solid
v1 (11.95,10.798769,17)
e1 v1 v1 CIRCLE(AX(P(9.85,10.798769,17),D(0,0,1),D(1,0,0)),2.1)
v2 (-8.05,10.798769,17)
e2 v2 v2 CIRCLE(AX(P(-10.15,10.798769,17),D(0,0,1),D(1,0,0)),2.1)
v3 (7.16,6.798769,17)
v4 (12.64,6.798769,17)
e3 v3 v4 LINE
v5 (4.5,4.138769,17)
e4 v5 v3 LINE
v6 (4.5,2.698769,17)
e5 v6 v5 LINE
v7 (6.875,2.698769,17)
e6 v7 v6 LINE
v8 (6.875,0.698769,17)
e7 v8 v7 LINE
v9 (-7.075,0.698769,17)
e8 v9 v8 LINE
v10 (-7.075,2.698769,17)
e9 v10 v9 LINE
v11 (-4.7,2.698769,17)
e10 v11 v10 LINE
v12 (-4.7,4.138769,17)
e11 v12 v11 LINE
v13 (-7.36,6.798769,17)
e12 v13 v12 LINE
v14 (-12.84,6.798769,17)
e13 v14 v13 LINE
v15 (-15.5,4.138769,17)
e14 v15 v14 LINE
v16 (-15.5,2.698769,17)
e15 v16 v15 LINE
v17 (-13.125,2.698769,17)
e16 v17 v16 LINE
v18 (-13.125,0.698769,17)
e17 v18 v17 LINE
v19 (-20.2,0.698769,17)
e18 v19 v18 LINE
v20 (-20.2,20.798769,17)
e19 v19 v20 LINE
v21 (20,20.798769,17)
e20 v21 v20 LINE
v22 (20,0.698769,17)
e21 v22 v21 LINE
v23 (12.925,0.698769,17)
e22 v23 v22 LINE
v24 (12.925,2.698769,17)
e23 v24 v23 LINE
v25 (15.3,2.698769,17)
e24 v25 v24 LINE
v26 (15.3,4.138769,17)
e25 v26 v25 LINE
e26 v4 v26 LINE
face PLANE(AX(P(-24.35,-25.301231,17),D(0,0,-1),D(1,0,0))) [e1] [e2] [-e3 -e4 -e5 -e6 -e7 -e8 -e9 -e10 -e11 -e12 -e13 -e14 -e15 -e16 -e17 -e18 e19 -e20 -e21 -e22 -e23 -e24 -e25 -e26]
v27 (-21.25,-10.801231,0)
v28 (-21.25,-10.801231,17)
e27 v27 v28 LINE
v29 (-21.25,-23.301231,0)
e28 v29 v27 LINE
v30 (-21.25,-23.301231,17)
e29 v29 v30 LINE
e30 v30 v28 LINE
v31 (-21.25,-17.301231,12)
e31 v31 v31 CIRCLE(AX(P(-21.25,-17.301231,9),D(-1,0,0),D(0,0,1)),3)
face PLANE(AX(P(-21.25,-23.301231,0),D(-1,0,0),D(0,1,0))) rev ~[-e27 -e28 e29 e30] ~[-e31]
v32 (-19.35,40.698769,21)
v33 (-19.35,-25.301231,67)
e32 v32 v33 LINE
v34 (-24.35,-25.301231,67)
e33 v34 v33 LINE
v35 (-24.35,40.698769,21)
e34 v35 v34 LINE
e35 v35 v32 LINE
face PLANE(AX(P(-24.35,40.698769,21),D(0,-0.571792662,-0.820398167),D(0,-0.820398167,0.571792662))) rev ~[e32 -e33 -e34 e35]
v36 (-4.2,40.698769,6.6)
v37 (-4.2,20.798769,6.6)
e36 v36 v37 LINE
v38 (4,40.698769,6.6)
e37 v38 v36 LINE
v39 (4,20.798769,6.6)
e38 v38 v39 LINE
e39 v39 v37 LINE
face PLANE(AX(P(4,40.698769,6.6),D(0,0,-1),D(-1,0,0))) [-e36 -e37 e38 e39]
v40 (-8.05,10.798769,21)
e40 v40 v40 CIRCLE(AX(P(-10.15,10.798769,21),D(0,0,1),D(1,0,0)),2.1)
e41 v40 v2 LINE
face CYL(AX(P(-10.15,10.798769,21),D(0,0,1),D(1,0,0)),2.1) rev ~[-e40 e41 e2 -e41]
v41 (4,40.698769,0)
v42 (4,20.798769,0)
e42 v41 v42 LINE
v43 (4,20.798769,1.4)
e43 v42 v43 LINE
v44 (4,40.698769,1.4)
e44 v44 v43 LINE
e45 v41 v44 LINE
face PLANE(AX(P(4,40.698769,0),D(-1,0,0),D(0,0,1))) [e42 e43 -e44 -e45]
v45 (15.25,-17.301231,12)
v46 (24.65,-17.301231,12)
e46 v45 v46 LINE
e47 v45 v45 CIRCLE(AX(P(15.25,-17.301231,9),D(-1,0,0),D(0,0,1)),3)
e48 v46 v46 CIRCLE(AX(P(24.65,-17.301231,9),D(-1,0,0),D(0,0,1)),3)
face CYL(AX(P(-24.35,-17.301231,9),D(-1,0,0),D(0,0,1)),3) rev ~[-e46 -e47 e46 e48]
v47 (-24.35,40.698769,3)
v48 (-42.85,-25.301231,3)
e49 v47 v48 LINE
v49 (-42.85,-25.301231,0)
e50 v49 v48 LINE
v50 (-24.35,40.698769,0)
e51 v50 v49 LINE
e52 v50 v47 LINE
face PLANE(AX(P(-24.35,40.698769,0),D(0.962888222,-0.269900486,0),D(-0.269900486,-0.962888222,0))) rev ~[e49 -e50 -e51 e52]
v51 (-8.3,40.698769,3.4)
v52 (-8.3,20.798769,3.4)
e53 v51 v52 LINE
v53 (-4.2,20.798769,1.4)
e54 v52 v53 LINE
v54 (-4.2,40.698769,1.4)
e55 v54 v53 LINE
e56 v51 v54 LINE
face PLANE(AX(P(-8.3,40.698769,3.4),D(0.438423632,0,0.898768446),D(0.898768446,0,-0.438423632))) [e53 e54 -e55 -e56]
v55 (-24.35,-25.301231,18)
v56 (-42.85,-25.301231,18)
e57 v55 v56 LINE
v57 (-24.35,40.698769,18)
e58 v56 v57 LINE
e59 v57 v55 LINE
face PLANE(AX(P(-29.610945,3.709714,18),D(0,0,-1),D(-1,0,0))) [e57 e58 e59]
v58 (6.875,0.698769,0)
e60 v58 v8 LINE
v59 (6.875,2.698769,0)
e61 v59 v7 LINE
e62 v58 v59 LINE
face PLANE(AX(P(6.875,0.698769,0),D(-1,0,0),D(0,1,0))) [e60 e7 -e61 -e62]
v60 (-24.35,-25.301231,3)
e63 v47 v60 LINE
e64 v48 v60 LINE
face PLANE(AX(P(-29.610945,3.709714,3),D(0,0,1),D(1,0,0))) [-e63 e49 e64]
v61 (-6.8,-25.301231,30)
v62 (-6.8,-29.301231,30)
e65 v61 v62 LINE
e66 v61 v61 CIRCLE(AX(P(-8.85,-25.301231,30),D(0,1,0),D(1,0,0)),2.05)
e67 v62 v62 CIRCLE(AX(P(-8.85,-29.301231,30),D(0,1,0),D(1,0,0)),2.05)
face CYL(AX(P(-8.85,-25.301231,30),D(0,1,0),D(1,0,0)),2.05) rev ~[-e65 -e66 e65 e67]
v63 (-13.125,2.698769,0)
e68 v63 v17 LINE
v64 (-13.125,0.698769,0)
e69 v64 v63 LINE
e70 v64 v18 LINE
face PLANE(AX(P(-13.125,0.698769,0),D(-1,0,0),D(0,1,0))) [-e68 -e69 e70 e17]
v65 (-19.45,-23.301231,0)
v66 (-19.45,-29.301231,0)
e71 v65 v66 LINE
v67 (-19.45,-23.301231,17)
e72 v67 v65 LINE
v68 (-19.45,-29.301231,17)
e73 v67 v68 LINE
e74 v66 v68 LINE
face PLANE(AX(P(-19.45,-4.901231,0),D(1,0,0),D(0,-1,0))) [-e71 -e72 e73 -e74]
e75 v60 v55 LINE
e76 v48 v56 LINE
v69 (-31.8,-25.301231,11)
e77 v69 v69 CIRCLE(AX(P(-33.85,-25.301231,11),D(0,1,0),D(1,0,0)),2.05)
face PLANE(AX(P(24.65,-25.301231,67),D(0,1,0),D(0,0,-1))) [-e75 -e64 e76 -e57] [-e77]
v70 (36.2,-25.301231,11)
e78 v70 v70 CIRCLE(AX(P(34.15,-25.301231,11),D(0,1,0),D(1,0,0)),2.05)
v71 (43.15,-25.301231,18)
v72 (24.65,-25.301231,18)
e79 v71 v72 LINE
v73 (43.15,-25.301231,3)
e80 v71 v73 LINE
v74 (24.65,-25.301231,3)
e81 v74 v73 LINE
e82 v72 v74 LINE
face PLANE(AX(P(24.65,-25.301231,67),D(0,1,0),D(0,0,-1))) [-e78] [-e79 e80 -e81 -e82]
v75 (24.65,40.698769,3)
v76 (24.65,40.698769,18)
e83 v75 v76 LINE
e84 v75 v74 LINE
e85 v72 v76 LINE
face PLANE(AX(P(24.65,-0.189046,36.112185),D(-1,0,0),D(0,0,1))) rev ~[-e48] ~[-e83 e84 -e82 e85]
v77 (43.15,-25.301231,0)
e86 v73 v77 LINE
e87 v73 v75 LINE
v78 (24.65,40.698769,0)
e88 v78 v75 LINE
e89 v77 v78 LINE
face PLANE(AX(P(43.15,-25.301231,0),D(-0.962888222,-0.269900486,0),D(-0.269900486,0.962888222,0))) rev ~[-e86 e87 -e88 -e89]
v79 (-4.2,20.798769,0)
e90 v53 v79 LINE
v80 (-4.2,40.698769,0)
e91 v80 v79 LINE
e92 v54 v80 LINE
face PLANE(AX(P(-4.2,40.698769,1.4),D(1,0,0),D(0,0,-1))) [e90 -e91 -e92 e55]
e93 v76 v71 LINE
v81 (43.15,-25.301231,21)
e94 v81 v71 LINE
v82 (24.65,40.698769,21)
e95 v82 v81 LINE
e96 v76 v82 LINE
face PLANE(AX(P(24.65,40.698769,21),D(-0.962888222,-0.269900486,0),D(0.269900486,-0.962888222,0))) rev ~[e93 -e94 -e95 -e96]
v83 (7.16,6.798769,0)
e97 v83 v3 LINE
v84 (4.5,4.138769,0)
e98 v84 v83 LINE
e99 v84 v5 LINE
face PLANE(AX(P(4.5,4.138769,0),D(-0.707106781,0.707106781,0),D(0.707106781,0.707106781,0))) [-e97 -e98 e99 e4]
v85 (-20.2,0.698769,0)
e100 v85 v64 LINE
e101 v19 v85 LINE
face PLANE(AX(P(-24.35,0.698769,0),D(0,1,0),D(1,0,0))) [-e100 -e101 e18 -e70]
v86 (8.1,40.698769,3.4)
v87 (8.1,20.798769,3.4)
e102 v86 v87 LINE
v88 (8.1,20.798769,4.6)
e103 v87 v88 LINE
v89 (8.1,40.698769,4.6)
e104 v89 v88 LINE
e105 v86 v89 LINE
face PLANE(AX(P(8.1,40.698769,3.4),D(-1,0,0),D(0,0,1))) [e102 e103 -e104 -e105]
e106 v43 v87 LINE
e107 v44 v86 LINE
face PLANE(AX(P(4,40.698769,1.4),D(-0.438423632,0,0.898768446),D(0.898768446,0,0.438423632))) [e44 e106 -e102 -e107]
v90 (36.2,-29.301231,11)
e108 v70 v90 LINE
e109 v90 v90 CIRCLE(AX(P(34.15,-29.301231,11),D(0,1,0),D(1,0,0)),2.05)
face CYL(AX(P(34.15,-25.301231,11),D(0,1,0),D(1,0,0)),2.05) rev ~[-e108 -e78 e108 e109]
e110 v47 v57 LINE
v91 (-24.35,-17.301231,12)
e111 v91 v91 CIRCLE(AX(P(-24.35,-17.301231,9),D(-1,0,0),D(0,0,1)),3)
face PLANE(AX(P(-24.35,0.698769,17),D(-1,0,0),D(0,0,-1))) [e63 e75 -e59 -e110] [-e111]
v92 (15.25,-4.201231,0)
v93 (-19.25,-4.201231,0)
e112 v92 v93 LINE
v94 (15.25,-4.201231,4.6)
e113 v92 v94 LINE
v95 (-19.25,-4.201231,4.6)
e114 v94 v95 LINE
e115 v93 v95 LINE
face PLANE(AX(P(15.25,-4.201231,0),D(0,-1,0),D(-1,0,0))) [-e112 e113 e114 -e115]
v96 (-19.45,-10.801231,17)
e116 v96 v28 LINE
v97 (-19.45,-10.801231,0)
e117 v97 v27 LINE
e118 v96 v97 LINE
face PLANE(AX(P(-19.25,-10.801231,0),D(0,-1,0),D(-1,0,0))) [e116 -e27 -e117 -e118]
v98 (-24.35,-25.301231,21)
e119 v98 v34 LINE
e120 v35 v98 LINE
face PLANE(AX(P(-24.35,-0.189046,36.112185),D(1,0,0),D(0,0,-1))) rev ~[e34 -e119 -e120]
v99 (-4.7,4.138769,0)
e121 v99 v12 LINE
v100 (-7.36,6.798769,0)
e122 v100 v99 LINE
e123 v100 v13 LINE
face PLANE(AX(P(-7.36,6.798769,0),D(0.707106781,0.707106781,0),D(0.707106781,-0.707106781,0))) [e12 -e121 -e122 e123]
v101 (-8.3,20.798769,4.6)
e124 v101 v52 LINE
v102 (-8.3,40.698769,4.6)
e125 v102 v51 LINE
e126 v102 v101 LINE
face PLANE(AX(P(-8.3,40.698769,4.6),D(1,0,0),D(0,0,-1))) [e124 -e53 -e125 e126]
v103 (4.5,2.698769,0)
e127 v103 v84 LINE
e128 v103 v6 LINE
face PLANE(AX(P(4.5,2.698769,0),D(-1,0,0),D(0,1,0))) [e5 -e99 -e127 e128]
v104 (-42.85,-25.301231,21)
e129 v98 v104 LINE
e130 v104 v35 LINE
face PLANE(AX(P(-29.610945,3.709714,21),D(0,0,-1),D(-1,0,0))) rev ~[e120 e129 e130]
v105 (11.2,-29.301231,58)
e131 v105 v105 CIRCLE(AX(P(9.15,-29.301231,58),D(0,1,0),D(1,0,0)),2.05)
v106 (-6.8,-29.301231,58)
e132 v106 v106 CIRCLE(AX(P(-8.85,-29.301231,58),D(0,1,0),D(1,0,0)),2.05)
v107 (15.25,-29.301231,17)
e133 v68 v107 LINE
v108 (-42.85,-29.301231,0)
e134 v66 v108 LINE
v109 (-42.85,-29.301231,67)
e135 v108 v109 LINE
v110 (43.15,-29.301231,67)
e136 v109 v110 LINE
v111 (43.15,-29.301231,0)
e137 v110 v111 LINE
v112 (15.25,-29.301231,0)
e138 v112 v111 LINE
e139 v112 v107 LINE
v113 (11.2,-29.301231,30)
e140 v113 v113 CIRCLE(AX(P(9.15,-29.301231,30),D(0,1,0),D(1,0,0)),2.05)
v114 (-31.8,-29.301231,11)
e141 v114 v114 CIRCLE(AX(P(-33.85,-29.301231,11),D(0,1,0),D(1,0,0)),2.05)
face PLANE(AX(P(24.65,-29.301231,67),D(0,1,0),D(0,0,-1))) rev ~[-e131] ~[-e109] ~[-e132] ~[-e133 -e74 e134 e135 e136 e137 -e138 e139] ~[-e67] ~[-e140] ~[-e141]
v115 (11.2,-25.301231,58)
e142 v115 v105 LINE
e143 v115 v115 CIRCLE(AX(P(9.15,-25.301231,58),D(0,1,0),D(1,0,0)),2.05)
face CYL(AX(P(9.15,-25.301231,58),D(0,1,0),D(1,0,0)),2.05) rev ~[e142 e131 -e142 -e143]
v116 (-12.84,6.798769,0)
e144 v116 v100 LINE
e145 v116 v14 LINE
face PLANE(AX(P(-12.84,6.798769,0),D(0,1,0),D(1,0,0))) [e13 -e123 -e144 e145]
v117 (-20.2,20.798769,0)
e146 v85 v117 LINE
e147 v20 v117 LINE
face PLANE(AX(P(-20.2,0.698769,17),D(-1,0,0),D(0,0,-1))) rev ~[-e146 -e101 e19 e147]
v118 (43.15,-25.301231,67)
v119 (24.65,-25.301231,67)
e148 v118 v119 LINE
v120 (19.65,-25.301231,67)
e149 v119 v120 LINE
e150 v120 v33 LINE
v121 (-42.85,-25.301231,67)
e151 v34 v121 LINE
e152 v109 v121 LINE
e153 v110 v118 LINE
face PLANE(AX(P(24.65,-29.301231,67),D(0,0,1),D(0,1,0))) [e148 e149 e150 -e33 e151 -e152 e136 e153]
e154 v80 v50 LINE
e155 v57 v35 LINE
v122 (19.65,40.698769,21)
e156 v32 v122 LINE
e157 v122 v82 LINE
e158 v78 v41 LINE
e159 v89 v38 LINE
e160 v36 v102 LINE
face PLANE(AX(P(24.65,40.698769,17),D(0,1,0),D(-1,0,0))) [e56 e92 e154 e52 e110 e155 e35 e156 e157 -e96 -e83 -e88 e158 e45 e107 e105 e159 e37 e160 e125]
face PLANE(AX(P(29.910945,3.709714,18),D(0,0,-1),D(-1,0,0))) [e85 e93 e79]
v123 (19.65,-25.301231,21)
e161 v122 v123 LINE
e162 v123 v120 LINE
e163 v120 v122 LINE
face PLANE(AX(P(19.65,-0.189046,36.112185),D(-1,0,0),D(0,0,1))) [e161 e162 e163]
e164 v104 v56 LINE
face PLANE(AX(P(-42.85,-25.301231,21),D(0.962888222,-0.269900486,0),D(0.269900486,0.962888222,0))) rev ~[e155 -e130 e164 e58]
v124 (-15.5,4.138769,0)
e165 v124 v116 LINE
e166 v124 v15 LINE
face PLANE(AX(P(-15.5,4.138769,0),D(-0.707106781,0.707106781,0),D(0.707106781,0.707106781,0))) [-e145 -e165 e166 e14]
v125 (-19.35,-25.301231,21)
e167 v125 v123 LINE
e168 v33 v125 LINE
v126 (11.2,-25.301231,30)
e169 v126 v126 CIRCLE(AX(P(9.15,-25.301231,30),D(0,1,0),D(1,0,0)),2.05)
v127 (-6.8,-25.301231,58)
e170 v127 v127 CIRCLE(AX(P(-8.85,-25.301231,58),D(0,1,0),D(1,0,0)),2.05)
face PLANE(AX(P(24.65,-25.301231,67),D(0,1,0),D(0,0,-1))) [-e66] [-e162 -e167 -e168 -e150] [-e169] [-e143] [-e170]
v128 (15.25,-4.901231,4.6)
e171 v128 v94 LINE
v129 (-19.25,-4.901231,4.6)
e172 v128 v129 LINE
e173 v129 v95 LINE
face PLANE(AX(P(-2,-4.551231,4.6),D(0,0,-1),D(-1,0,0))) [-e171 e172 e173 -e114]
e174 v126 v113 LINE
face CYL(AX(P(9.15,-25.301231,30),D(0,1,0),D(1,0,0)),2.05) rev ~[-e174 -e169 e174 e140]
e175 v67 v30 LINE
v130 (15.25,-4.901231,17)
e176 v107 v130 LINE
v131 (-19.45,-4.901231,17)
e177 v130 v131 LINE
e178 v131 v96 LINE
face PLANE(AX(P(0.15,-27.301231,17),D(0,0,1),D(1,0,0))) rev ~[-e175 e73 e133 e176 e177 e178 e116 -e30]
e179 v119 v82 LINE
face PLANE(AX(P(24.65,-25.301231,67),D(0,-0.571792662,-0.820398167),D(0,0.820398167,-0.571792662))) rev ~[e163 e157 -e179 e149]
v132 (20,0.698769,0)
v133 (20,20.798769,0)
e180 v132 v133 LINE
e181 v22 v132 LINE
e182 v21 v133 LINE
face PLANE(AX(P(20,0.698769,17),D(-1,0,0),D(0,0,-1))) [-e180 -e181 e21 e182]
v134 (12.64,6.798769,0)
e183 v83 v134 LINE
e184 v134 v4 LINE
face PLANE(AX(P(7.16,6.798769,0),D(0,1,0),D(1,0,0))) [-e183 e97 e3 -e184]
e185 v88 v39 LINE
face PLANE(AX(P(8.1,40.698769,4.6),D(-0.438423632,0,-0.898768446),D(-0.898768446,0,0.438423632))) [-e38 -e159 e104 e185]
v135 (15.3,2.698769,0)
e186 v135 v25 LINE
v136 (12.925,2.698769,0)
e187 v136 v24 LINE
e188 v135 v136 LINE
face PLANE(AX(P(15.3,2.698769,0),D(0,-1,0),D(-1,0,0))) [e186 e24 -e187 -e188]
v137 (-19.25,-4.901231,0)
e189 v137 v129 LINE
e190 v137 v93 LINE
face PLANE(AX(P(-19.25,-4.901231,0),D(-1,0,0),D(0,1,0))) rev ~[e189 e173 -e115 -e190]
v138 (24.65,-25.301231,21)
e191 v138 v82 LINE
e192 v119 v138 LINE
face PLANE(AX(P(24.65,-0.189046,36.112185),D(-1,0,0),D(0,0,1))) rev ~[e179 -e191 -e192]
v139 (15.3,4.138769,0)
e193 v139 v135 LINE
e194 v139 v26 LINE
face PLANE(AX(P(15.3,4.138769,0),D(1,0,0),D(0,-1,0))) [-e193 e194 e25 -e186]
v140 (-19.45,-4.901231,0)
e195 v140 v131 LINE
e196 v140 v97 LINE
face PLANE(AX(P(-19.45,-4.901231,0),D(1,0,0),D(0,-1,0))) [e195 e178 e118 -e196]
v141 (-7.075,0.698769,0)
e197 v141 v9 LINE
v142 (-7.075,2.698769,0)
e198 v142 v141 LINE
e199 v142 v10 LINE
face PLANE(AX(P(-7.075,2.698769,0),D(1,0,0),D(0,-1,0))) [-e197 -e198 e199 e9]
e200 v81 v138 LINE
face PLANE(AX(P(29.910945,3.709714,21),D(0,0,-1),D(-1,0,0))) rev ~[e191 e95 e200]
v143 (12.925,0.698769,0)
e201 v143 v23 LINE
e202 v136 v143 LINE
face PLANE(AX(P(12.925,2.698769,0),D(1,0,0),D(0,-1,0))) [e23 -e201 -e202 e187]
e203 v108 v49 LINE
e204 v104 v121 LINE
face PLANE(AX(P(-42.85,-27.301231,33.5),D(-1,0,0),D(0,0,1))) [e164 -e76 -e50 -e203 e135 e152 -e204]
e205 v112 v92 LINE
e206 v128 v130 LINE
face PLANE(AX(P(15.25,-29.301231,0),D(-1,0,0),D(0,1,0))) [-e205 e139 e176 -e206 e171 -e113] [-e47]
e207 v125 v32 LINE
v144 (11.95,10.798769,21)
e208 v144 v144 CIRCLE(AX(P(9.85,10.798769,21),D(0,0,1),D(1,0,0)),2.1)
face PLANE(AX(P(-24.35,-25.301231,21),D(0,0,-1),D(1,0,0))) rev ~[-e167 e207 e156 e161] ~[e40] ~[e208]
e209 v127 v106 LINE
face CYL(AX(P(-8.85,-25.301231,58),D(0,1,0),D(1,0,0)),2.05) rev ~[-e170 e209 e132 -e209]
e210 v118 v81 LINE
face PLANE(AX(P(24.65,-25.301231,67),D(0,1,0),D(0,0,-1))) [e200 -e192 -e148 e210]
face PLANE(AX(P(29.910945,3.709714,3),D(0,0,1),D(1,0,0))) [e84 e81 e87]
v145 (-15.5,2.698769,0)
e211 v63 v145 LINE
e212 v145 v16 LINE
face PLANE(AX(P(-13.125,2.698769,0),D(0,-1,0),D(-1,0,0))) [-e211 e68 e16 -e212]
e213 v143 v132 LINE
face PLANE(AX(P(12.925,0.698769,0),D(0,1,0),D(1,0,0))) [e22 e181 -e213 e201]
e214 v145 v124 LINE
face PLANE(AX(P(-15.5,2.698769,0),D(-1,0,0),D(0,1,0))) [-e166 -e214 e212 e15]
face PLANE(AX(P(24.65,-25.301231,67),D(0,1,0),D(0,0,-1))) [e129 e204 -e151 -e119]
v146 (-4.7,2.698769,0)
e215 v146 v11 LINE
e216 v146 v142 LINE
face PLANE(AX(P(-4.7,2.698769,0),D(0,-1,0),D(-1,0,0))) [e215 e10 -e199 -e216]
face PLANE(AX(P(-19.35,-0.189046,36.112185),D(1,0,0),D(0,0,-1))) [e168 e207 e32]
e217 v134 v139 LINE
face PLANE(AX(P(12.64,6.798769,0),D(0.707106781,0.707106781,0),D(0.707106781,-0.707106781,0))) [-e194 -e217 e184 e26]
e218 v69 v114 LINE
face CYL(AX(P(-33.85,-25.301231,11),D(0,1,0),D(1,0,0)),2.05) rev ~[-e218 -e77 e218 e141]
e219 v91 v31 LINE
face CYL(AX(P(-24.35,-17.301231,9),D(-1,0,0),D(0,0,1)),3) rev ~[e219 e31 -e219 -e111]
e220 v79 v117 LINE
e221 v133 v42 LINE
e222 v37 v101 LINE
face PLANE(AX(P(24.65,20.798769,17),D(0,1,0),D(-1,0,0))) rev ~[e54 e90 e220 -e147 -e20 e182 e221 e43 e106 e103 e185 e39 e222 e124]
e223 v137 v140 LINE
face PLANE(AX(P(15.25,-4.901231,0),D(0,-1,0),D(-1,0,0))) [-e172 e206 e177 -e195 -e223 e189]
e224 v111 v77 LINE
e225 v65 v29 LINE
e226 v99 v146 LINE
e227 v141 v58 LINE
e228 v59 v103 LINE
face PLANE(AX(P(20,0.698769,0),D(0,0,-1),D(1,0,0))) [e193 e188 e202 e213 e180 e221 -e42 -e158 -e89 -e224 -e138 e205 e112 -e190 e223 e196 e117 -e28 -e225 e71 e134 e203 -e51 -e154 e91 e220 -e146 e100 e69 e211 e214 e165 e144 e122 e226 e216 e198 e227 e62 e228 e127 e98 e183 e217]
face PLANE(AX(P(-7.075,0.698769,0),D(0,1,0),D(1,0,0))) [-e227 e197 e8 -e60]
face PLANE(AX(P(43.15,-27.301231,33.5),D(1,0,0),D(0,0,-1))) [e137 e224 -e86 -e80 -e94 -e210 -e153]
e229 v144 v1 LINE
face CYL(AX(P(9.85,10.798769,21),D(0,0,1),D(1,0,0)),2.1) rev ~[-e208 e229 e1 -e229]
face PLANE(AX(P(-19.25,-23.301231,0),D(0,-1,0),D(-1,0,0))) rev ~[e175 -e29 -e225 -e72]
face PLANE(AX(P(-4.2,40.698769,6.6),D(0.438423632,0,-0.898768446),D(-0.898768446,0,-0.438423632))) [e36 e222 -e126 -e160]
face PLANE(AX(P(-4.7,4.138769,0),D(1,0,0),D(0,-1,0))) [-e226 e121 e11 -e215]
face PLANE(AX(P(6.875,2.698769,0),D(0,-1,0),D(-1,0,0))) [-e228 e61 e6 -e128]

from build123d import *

# Parameters (mm, degrees)
EXTRUDE_1_DEPTH     = 17
SKETCH_5_R          = 3
CUT_EXTRUDE_3_DEPTH = 49
SKETCH_6_W          = 49
SKETCH_6_H          = 4
EXTRUDE_3_DEPTH     = 50
SKETCH_7_W          = 67
SKETCH_7_H          = 4
EXTRUDE_4_DEPTH     = 18.5
SKETCH_8_W          = 67
SKETCH_8_H          = 4
EXTRUDE_5_DEPTH     = 18.5
SKETCH_14_W         = 49
SKETCH_14_H         = 4
EXTRUDE_13_DEPTH    = 66
SKETCH_23_W         = 49
SKETCH_23_H         = 19.9
EXTRUDE_18_DEPTH    = 17
CUT_EXTRUDE_4_REACH = 6
SKETCH_13_R         = 2.05
EXTRUDE_14_DEPTH    = 5
EXTRUDE_15_DEPTH    = 5
CUT_EXTRUDE_5_REACH = 23
SKETCH_18_R         = 2.1
SKETCH_21_W         = 34.5
SKETCH_21_H         = 0.7
CUT_EXTRUDE_6_DEPTH = 4.6
EXTRUDE_19_DEPTH    = 3
EXTRUDE_20_DEPTH    = 3
EXTRUDE_21_REACH    = 42
SKETCH_29_W         = 4.15
SKETCH_29_H         = 17
SKETCH_29_W_2       = 4.65
SKETCH_3_W          = 2
SKETCH_3_H          = 12.5
CUT_EXTRUDE_7_DEPTH = 17
CUT_EXTRUDE_8_DEPTH = 20


with BuildPart() as part:
    # Эскиз1 → Бобышка-Вытянуть1 (new body)
    with BuildSketch(Plane.XY):
        Polygon((-13.125, 2.698768931), (-15.5, 2.698768931), (-15.5, 4.138768931), (-12.84, 6.798768931), (-7.36, 6.798768931), (-4.7, 4.138768931), (-4.7, 2.698768931), (-7.075, 2.698768931), (-7.075, 0.698768931), (6.875, 0.698768931), (6.875, 2.698768931), (4.5, 2.698768931), (4.5, 4.138768931), (7.16, 6.798768931), (12.64, 6.798768931), (15.3, 4.138768931), (15.3, 2.698768931), (12.925, 2.698768931), (12.925, 0.698768931), (24.65, 0.698768931), (24.65, -29.301231069), (15.25, -29.301231069), (15.25, -4.901231069), (-19.45, -4.901231069), (-19.45, -29.301231069), (-24.35, -29.301231069), (-24.35, 0.698768931), (-13.125, 0.698768931), align=None)
    extrude(amount=EXTRUDE_1_DEPTH)

    # Эскиз5 → Вырез-Вытянуть3 (cut)
    with BuildSketch(Plane.ZY.offset(24.35)):
        with Locations((9, -17.301231069)):
            Circle(SKETCH_5_R)
    extrude(amount=-CUT_EXTRUDE_3_DEPTH, mode=Mode.SUBTRACT)

    # Эскиз6 → Бобышка-Вытянуть3 (add)
    with BuildSketch(Plane.XY.offset(17)):
        with Locations((0.15, -27.301231069)):
            Rectangle(SKETCH_6_W, SKETCH_6_H)
    extrude(amount=EXTRUDE_3_DEPTH)

    # Эскиз7 → Бобышка-Вытянуть4 (add)
    with BuildSketch(Plane.ZY.offset(24.35)):
        with Locations((33.5, -27.301231069)):
            Rectangle(SKETCH_7_W, SKETCH_7_H)
    extrude(amount=EXTRUDE_4_DEPTH)

    # Эскиз8 → Бобышка-Вытянуть5 (add)
    with BuildSketch(Plane(origin=(24.65, 0, 0), x_dir=(0, 0, -1), z_dir=(1, 0, 0))):
        with Locations((-33.5, -27.301231069)):
            Rectangle(SKETCH_8_W, SKETCH_8_H)
    extrude(amount=EXTRUDE_5_DEPTH)

    # Эскиз14 → Бобышка-Вытянуть13 (add)
    with BuildSketch(Plane(origin=(0, -25.301231069, 0), x_dir=(1, 0, 0), z_dir=(0, 1, 0))):
        with Locations((0.15, -19)):
            Rectangle(SKETCH_14_W, SKETCH_14_H)
    extrude(amount=EXTRUDE_13_DEPTH)

    # Эскиз23 → Бобышка-Вытянуть18 (add)
    with BuildSketch(Plane(origin=(0, 0, 17), x_dir=(-1, 0, 0), z_dir=(0, 0, -1))):
        with Locations((-0.15, 30.748768931)):
            Rectangle(SKETCH_23_W, SKETCH_23_H)
    extrude(amount=EXTRUDE_18_DEPTH)

    # Эскиз13 → Вырез-Вытянуть4 (cut, up to next)
    with BuildSketch(Plane(origin=(0, -25.301231069, 0), x_dir=(1, 0, 0), z_dir=(0, 1, 0)), mode=Mode.PRIVATE) as cut_extrude_4_sk1:
        with Locations((-8.85, -58)):
            Circle(SKETCH_13_R)
    cut_extrude_4_tool1 = extrude(cut_extrude_4_sk1.sketch, amount=-CUT_EXTRUDE_4_REACH, mode=Mode.PRIVATE) & part.part
    add(cut_extrude_4_tool1.solids().sort_by_distance((-8.85, -25.301231, 58))[0], mode=Mode.SUBTRACT)
    # Эскиз13 → Вырез-Вытянуть4 (cut, up to next)
    with BuildSketch(Plane(origin=(0, -25.301231069, 0), x_dir=(1, 0, 0), z_dir=(0, 1, 0)), mode=Mode.PRIVATE) as cut_extrude_4_sk2:
        with Locations((9.15, -58)):
            Circle(SKETCH_13_R)
    cut_extrude_4_tool2 = extrude(cut_extrude_4_sk2.sketch, amount=-CUT_EXTRUDE_4_REACH, mode=Mode.PRIVATE) & part.part
    add(cut_extrude_4_tool2.solids().sort_by_distance((9.15, -25.301231, 58))[0], mode=Mode.SUBTRACT)
    # Эскиз13 → Вырез-Вытянуть4 (cut, up to next)
    with BuildSketch(Plane(origin=(0, -25.301231069, 0), x_dir=(1, 0, 0), z_dir=(0, 1, 0)), mode=Mode.PRIVATE) as cut_extrude_4_sk3:
        with Locations((-33.85, -11)):
            Circle(SKETCH_13_R)
    cut_extrude_4_tool3 = extrude(cut_extrude_4_sk3.sketch, amount=-CUT_EXTRUDE_4_REACH, mode=Mode.PRIVATE) & part.part
    add(cut_extrude_4_tool3.solids().sort_by_distance((-33.85, -25.301231, 11))[0], mode=Mode.SUBTRACT)
    # Эскиз13 → Вырез-Вытянуть4 (cut, up to next)
    with BuildSketch(Plane(origin=(0, -25.301231069, 0), x_dir=(1, 0, 0), z_dir=(0, 1, 0)), mode=Mode.PRIVATE) as cut_extrude_4_sk4:
        with Locations((34.15, -11)):
            Circle(SKETCH_13_R)
    cut_extrude_4_tool4 = extrude(cut_extrude_4_sk4.sketch, amount=-CUT_EXTRUDE_4_REACH, mode=Mode.PRIVATE) & part.part
    add(cut_extrude_4_tool4.solids().sort_by_distance((34.15, -25.301231, 11))[0], mode=Mode.SUBTRACT)
    # Эскиз13 → Вырез-Вытянуть4 (cut, up to next)
    with BuildSketch(Plane(origin=(0, -25.301231069, 0), x_dir=(1, 0, 0), z_dir=(0, 1, 0)), mode=Mode.PRIVATE) as cut_extrude_4_sk5:
        with Locations((-8.85, -30)):
            Circle(SKETCH_13_R)
    cut_extrude_4_tool5 = extrude(cut_extrude_4_sk5.sketch, amount=-CUT_EXTRUDE_4_REACH, mode=Mode.PRIVATE) & part.part
    add(cut_extrude_4_tool5.solids().sort_by_distance((-8.85, -25.301231, 30))[0], mode=Mode.SUBTRACT)
    # Эскиз13 → Вырез-Вытянуть4 (cut, up to next)
    with BuildSketch(Plane(origin=(0, -25.301231069, 0), x_dir=(1, 0, 0), z_dir=(0, 1, 0)), mode=Mode.PRIVATE) as cut_extrude_4_sk6:
        with Locations((9.15, -30)):
            Circle(SKETCH_13_R)
    cut_extrude_4_tool6 = extrude(cut_extrude_4_sk6.sketch, amount=-CUT_EXTRUDE_4_REACH, mode=Mode.PRIVATE) & part.part
    add(cut_extrude_4_tool6.solids().sort_by_distance((9.15, -25.301231, 30))[0], mode=Mode.SUBTRACT)

    # Эскиз16 → Бобышка-Вытянуть14 (add)
    with BuildSketch(Plane.ZY.offset(24.35)):
        Polygon((21, -25.301231069), (21, 40.698768931), (67, -25.301231069), align=None)
    extrude(amount=-EXTRUDE_14_DEPTH)

    # Эскиз17 → Бобышка-Вытянуть15 (add)
    with BuildSketch(Plane(origin=(24.65, 0, 0), x_dir=(0, 0, -1), z_dir=(1, 0, 0))):
        Polygon((-67, -25.301231069), (-21, 40.698768931), (-21, -25.301231069), align=None)
    extrude(amount=-EXTRUDE_15_DEPTH)

    # Эскиз18 → Вырез-Вытянуть5 (cut, up to next)
    with BuildSketch(Plane.XY.offset(21), mode=Mode.PRIVATE) as cut_extrude_5_sk1:
        with Locations((9.85, 10.798768931)):
            Circle(SKETCH_18_R)
    cut_extrude_5_tool1 = extrude(cut_extrude_5_sk1.sketch, amount=-CUT_EXTRUDE_5_REACH, mode=Mode.PRIVATE) & part.part
    add(cut_extrude_5_tool1.solids().sort_by_distance((9.85, 10.798769, 21))[0], mode=Mode.SUBTRACT)
    # Эскиз18 → Вырез-Вытянуть5 (cut, up to next)
    with BuildSketch(Plane.XY.offset(21), mode=Mode.PRIVATE) as cut_extrude_5_sk2:
        with Locations((-10.15, 10.798768931)):
            Circle(SKETCH_18_R)
    cut_extrude_5_tool2 = extrude(cut_extrude_5_sk2.sketch, amount=-CUT_EXTRUDE_5_REACH, mode=Mode.PRIVATE) & part.part
    add(cut_extrude_5_tool2.solids().sort_by_distance((-10.15, 10.798769, 21))[0], mode=Mode.SUBTRACT)

    # Эскиз21 → Вырез-Вытянуть6 (cut)
    with BuildSketch(Plane(origin=(0, 0, 0), x_dir=(-1, 0, 0), z_dir=(0, 0, -1))):
        with Locations((2, -4.551231069)):
            Rectangle(SKETCH_21_W, SKETCH_21_H)
    extrude(amount=-CUT_EXTRUDE_6_DEPTH, mode=Mode.SUBTRACT)

    # Эскиз25 → Бобышка-Вытянуть19 (add)
    with BuildSketch(Plane(origin=(0, 0, 0), x_dir=(-1, 0, 0), z_dir=(0, 0, -1))):
        Polygon((-24.65, 40.698768931), (-24.65, -25.301231069), (-43.15, -25.301231069), align=None)
        Polygon((42.85, -25.301231069), (24.35, -25.301231069), (24.35, 40.698768931), align=None)
    extrude(amount=-EXTRUDE_19_DEPTH)

    # Эскиз28 → Бобышка-Вытянуть20 (add)
    with BuildSketch(Plane.XY.offset(21)):
        Polygon((43.15, -25.301231069), (24.65, -25.301231069), (24.65, 40.698768931), align=None)
        Polygon((-24.35, -25.301231069), (-42.85, -25.301231069), (-24.35, 40.698768931), align=None)
    extrude(amount=-EXTRUDE_20_DEPTH)

    # Эскиз29 → Бобышка-Вытянуть21 (add, up to next)
    with BuildSketch(Plane(origin=(0, 0.698768931, 0), x_dir=(1, 0, 0), z_dir=(0, 1, 0)), mode=Mode.PRIVATE) as extrude_21_sk1:
        with Locations((-22.275, -8.5)):
            Rectangle(SKETCH_29_W, SKETCH_29_H)
    extrude_21_tool1 = extrude(extrude_21_sk1.sketch, amount=EXTRUDE_21_REACH, mode=Mode.PRIVATE) - part.part
    add(extrude_21_tool1.solids().sort_by_distance((-22.275, 0.698769, 8.5))[0])
    # Эскиз29 → Бобышка-Вытянуть21 (add, up to next)
    with BuildSketch(Plane(origin=(0, 0.698768931, 0), x_dir=(1, 0, 0), z_dir=(0, 1, 0)), mode=Mode.PRIVATE) as extrude_21_sk2:
        with Locations((22.325, -8.5)):
            Rectangle(SKETCH_29_W_2, SKETCH_29_H)
    extrude_21_tool2 = extrude(extrude_21_sk2.sketch, amount=EXTRUDE_21_REACH, mode=Mode.PRIVATE) - part.part
    add(extrude_21_tool2.solids().sort_by_distance((22.325, 0.698769, 8.5))[0])

    # Эскиз3 → Вырез-Вытянуть7 (cut)
    with BuildSketch(Plane(origin=(0, 0, 0), x_dir=(-1, 0, 0), z_dir=(0, 0, -1))):
        with Locations((20.25, -17.051231069)):
            Rectangle(SKETCH_3_W, SKETCH_3_H)
    extrude(amount=-CUT_EXTRUDE_7_DEPTH, mode=Mode.SUBTRACT)

    # Эскиз30 → Вырез-Вытянуть8 (cut)
    with BuildSketch(Plane(origin=(0, 40.698768931, 0), x_dir=(1, 0, 0), z_dir=(0, 1, 0))):
        Polygon((-4.2, 0), (4, 0), (4, -1.4), (8.1, -3.4), (8.1, -4.6), (4, -6.6), (-4.2, -6.6), (-8.3, -4.6), (-8.3, -3.4), (-4.2, -1.4), align=None)
    extrude(amount=-CUT_EXTRUDE_8_DEPTH, mode=Mode.SUBTRACT)


solid = part.part
